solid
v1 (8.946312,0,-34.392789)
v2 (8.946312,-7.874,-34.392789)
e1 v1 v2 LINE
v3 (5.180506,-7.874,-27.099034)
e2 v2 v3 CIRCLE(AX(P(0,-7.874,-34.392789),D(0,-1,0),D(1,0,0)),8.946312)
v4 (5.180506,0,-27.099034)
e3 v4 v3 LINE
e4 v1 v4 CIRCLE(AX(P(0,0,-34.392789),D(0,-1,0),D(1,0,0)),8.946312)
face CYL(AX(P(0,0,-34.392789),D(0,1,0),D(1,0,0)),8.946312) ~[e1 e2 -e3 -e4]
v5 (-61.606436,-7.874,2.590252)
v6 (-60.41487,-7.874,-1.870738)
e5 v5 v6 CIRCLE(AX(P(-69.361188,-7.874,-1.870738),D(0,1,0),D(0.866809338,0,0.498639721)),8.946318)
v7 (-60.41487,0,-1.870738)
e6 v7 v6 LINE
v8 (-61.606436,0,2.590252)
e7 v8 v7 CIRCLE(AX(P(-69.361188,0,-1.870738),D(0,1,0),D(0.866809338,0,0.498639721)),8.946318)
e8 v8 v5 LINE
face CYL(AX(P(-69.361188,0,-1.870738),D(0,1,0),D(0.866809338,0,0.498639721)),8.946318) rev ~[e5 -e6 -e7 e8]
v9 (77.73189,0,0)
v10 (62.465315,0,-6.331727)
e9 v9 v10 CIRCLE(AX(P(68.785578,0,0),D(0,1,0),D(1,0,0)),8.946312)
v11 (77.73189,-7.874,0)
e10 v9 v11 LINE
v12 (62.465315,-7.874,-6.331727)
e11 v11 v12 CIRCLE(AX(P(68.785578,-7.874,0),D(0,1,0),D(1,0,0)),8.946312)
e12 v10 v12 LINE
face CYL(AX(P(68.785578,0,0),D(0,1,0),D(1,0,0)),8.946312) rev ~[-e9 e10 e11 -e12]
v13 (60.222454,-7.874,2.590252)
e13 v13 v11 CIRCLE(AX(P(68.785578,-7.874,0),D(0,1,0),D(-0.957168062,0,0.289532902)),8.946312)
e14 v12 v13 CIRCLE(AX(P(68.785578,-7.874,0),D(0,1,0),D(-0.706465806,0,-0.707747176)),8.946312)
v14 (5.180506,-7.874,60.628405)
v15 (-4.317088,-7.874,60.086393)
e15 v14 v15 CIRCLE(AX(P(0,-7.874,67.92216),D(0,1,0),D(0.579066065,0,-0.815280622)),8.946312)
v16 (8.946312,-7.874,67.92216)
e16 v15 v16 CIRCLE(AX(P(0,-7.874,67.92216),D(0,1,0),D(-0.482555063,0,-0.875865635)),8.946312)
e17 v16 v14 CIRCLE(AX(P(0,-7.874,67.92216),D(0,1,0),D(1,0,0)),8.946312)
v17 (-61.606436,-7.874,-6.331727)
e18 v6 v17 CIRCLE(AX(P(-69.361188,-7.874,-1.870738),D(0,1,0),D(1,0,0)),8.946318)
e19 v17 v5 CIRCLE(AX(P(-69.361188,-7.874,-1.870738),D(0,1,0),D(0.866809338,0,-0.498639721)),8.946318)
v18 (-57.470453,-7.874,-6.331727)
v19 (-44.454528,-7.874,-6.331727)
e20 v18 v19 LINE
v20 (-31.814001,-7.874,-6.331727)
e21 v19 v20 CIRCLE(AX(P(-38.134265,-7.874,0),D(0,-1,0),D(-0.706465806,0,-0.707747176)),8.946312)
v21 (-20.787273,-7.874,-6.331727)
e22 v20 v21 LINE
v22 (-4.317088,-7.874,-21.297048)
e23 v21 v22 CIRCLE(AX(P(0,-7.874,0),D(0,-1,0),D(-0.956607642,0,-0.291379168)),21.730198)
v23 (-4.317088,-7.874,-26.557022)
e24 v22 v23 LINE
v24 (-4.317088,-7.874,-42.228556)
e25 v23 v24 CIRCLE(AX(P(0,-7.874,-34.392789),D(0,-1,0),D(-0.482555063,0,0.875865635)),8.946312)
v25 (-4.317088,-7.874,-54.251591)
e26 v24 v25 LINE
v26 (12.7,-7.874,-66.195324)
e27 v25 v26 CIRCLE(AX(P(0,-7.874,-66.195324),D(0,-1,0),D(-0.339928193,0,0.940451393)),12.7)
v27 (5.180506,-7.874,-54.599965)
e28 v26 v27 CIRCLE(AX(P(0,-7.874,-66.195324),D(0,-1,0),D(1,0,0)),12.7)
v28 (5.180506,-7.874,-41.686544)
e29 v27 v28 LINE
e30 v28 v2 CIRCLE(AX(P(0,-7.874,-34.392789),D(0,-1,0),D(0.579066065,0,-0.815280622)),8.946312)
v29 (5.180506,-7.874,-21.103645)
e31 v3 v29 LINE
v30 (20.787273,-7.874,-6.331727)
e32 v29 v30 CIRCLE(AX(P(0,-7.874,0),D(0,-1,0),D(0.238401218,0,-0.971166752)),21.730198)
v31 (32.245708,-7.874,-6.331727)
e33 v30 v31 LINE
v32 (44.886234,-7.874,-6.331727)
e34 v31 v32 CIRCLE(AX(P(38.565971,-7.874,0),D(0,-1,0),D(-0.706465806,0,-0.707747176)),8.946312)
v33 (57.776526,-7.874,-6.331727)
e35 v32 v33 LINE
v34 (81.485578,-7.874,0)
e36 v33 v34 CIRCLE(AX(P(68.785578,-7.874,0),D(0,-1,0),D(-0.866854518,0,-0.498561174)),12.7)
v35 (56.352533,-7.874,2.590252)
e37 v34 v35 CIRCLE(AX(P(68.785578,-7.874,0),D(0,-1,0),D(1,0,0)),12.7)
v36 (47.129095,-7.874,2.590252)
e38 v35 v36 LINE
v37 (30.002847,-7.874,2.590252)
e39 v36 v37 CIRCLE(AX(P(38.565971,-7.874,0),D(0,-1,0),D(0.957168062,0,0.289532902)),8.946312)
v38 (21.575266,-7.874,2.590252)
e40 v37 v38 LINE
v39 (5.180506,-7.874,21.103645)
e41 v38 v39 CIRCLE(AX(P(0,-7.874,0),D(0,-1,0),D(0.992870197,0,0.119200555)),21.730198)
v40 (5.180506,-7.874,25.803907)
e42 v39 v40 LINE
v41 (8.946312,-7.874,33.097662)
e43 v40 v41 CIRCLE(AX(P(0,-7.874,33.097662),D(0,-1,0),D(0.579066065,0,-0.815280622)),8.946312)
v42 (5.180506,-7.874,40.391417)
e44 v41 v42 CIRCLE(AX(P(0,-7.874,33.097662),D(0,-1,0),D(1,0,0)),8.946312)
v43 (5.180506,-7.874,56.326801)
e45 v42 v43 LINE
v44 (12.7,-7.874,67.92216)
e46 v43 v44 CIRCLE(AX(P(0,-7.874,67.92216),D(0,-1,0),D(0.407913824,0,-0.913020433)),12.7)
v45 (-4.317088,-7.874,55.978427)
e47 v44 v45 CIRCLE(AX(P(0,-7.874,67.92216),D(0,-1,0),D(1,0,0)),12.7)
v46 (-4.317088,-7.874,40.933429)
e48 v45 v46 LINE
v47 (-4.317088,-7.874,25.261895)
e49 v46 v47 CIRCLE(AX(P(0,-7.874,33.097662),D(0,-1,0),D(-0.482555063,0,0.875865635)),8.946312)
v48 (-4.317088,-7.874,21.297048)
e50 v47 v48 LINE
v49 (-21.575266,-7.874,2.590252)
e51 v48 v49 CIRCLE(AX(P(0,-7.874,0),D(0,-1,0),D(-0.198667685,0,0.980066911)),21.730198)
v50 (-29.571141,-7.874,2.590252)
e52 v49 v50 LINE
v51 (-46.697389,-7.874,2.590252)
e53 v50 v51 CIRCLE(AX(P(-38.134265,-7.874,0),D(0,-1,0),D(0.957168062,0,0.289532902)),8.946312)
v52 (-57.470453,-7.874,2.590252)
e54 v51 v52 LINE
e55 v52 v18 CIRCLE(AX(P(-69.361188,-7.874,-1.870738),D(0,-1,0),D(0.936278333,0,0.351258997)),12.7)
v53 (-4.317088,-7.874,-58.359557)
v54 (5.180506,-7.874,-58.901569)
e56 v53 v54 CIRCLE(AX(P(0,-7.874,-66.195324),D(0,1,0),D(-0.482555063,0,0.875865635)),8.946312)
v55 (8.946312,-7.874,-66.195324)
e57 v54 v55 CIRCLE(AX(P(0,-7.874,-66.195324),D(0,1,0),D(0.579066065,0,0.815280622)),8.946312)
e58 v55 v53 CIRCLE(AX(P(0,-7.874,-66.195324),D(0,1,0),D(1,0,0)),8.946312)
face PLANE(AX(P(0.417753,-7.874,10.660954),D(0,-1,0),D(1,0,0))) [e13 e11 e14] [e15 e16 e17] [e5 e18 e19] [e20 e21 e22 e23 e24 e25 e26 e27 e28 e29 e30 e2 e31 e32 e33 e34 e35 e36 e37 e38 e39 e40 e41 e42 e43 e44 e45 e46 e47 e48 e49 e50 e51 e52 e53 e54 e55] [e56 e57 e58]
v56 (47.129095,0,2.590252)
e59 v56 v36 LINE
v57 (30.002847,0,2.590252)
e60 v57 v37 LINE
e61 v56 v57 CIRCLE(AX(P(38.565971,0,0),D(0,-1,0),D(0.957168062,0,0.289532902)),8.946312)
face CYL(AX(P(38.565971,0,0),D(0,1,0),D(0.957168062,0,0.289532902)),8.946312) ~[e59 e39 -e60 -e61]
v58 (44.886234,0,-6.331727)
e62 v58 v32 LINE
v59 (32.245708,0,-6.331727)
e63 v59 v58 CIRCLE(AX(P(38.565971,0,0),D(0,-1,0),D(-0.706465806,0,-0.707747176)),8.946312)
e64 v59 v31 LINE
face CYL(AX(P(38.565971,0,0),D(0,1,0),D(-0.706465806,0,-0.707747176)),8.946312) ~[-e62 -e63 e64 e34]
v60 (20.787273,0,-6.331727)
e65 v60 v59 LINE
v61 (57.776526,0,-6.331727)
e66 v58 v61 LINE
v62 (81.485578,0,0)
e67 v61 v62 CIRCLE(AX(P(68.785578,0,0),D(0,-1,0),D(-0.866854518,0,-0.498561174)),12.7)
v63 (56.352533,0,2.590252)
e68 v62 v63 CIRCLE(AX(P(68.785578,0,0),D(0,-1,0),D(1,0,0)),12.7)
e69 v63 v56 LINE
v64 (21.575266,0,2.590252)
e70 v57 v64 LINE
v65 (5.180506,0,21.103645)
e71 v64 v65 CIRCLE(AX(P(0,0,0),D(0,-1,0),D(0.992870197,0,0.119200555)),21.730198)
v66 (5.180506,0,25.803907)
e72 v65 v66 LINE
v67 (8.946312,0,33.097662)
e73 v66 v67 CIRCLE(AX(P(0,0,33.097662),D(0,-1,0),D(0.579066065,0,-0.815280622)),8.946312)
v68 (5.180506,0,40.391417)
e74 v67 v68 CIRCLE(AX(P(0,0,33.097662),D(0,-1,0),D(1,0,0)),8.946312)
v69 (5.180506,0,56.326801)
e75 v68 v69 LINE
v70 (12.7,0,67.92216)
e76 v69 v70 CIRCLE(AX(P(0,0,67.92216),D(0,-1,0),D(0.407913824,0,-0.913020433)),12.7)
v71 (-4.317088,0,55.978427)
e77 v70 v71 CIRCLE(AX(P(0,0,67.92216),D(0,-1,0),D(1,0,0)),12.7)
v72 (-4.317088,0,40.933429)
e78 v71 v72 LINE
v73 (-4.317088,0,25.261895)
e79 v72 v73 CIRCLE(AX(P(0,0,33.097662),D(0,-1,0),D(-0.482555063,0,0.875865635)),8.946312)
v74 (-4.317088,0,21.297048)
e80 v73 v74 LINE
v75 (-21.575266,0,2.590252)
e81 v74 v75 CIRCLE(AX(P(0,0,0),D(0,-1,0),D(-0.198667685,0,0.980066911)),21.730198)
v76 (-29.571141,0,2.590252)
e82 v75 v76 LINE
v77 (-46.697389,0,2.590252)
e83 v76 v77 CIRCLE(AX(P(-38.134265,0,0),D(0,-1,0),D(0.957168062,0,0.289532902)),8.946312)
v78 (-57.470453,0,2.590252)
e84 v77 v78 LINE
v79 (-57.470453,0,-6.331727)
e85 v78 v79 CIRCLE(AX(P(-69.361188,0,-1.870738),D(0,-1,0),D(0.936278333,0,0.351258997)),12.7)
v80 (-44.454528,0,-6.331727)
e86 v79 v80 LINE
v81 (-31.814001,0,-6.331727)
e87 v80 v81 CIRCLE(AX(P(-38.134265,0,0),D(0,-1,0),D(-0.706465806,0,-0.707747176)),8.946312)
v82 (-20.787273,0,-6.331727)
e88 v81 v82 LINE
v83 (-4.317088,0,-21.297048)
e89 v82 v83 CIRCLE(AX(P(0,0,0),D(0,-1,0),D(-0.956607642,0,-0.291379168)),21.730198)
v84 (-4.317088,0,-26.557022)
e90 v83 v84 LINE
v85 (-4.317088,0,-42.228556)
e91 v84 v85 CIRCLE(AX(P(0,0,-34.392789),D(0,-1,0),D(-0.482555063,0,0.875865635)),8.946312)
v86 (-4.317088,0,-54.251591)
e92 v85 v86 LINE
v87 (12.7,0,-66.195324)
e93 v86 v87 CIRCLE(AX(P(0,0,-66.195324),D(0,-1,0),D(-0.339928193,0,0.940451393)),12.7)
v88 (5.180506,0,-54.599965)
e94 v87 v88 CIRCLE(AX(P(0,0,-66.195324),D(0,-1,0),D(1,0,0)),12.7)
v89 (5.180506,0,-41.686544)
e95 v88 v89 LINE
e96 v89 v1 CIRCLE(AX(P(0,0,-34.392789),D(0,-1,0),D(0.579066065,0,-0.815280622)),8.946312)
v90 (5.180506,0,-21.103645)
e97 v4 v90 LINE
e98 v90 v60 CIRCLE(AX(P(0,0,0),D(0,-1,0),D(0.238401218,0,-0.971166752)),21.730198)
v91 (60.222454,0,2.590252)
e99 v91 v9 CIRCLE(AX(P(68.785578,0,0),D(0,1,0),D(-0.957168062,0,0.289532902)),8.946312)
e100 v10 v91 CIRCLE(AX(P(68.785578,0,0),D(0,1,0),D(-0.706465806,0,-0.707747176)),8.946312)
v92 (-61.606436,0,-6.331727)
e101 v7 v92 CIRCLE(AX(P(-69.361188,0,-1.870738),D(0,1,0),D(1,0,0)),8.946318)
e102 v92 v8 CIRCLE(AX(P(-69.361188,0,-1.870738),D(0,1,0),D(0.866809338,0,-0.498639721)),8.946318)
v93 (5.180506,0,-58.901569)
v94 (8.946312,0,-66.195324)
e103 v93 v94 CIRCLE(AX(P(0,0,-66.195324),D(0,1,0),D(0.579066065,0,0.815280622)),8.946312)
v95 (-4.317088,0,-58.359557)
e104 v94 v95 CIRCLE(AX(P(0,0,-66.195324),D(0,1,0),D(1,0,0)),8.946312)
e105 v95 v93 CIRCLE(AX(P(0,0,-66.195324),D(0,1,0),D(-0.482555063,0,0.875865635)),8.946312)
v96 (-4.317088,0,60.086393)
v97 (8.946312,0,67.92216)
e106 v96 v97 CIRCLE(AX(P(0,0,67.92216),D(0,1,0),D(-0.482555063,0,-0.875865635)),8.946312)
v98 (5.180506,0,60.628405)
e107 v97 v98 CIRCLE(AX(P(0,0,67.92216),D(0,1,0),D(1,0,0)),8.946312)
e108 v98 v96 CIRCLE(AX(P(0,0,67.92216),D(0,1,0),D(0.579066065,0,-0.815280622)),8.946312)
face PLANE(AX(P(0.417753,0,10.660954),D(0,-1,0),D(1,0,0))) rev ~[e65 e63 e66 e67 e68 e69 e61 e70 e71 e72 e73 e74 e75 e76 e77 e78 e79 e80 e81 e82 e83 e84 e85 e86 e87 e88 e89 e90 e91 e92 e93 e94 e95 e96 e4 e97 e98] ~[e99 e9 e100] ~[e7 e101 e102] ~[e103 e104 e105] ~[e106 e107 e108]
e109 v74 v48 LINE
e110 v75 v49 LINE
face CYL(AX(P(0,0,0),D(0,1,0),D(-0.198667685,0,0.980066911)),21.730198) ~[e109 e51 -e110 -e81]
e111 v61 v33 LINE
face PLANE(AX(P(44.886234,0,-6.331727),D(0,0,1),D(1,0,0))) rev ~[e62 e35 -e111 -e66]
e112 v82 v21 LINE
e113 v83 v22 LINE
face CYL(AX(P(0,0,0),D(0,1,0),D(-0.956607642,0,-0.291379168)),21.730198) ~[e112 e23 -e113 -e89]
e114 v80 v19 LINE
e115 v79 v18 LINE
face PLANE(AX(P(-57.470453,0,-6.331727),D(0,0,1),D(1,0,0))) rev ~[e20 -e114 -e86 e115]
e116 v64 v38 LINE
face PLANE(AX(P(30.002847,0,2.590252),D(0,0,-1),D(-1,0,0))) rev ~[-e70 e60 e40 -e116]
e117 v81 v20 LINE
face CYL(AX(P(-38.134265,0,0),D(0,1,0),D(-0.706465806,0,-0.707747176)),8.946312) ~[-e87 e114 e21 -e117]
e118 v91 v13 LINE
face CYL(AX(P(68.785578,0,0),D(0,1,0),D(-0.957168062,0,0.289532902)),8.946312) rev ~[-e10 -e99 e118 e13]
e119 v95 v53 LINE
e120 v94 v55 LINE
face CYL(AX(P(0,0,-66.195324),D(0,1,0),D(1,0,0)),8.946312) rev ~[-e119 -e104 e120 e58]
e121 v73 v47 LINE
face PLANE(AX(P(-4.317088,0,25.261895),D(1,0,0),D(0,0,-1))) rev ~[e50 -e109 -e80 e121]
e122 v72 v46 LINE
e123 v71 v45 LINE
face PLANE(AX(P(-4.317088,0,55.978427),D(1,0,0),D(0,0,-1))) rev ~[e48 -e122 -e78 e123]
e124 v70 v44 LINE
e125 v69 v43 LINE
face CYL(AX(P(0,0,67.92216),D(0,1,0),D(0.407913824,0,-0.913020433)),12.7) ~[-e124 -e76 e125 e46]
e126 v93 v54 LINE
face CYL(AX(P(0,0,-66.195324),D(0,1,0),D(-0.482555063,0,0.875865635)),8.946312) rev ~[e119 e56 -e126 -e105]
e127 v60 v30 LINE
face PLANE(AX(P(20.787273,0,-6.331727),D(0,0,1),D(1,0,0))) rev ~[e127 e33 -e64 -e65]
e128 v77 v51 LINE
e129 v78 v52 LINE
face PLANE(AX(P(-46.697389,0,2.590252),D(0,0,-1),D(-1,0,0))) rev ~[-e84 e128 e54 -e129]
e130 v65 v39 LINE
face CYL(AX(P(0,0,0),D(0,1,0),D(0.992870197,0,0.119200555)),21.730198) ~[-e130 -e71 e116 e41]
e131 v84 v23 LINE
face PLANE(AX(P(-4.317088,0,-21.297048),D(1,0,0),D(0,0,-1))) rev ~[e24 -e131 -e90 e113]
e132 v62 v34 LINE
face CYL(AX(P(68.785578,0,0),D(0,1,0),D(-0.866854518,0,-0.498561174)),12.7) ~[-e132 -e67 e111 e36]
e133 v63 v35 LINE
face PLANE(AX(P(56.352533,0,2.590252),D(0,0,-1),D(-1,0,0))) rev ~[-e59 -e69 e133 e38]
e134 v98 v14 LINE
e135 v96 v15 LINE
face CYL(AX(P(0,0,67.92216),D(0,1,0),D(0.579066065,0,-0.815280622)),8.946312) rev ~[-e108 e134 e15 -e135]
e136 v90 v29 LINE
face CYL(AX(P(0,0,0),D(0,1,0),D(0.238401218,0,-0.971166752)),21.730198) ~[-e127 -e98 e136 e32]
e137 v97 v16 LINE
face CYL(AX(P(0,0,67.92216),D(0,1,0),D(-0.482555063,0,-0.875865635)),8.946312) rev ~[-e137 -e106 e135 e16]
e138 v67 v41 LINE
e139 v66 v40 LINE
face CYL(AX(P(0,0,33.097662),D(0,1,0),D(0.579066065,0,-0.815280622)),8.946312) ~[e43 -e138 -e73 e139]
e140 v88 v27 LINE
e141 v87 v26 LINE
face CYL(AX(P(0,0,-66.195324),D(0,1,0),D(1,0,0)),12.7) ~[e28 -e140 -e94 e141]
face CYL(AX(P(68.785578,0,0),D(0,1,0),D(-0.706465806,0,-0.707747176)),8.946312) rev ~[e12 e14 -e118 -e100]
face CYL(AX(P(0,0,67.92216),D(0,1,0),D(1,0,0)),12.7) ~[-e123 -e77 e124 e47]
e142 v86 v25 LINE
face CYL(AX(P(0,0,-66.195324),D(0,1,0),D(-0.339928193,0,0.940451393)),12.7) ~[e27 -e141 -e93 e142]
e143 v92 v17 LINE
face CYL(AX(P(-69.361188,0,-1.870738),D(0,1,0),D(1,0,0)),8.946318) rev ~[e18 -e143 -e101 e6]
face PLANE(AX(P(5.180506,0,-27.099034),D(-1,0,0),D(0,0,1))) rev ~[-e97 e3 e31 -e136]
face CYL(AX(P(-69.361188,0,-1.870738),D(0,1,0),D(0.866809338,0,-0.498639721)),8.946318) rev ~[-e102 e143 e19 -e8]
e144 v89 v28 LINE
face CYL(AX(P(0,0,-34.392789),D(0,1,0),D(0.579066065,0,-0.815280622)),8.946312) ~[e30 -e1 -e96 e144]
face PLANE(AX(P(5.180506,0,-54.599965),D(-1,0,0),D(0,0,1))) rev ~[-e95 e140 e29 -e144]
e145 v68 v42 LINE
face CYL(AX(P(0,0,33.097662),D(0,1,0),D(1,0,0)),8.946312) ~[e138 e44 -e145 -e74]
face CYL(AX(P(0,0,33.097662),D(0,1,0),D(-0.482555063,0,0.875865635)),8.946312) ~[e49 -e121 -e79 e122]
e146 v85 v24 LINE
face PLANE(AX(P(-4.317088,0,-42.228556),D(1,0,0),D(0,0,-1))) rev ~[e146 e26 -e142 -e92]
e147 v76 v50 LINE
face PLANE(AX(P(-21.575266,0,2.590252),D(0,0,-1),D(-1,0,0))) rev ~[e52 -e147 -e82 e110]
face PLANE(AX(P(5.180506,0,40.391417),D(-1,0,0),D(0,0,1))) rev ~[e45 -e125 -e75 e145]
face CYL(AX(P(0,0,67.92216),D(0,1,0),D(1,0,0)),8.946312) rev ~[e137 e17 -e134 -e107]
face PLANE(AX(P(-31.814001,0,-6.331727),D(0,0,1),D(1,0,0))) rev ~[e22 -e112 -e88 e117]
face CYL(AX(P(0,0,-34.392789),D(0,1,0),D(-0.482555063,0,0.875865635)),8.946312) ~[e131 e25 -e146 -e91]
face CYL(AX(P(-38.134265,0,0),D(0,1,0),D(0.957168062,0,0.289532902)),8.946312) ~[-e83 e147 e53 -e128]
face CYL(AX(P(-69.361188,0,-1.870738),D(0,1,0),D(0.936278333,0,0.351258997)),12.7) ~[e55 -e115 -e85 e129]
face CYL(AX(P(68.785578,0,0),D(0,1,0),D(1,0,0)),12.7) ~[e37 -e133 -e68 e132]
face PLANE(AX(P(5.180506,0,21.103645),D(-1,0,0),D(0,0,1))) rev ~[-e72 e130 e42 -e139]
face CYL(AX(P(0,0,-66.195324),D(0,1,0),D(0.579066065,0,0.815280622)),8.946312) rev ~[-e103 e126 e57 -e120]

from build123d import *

# Parameters (mm, degrees)
F1_DEPTH = 7.874


with BuildPart() as f1:
    # F0 (on Front) → F1 (new body)
    with BuildSketch(Plane.XZ):
        with BuildLine():
            Line((-4.3170880526, 2.5902516209), (-4.3170880526, 0))
            Line((-4.3170880526, 0), (5.18050557, 0))
            Line((5.18050557, 0), (5.18050557, 2.5902516209))
            Line((5.18050557, 2.5902516209), (5.18050557, 21.1036454269))
            ThreePointArc((5.18050557, 21.1036454269), (0.4424065531, 21.7256936531), (-4.3170880526, 21.2970476595))
            Line((-4.3170880526, 21.2970476595), (-4.3170880526, 2.5902516209))
        make_face()
        with BuildLine():
            Line((-4.3170880526, -6.3317269087), (-4.3170880526, 0))
            Line((-4.3170880526, 0), (-4.3170880526, 2.5902516209))
            Line((-4.3170880526, 2.5902516209), (-21.5752655791, 2.5902516209))
            ThreePointArc((-21.5752655791, 2.5902516209), (-21.6459371683, -1.911777281), (-20.7872730925, -6.3317269087))
            Line((-20.7872730925, -6.3317269087), (-4.3170880526, -6.3317269087))
        make_face()
        with BuildLine():
            Line((5.18050557, 0), (-4.3170880526, 0))
            Line((-4.3170880526, 0), (-4.3170880526, -6.3317269087))
            Line((-4.3170880526, -6.3317269087), (-4.3170880526, -21.2970476595))
            ThreePointArc((-4.3170880526, -21.2970476595), (0.4424065531, -21.7256936531), (5.18050557, -21.1036454269))
            Line((5.18050557, -21.1036454269), (5.18050557, -6.3317269087))
            Line((5.18050557, -6.3317269087), (5.18050557, 0))
        make_face()
        with BuildLine():
            Line((5.18050557, 2.5902516209), (5.18050557, 0))
            Line((5.18050557, 0), (5.18050557, -6.3317269087))
            Line((5.18050557, -6.3317269087), (20.7872730925, -6.3317269087))
            ThreePointArc((20.7872730925, -6.3317269087), (21.4931738046, -3.2007761674), (21.7301976122, 0))
            ThreePointArc((21.7301976122, 0), (21.6914300224, 1.297440499), (21.5752655791, 2.5902516209))
            Line((21.5752655791, 2.5902516209), (5.18050557, 2.5902516209))
        make_face()
        with BuildLine():
            Line((-21.5752655791, 2.5902516209), (-4.3170880526, 2.5902516209))
            Line((-4.3170880526, 2.5902516209), (-4.3170880526, 21.2970476595))
            ThreePointArc((-4.3170880526, 21.2970476595), (-15.9715230537, 14.7347188508), (-21.5752655791, 2.5902516209))
        make_face()
        with BuildLine():
            Line((-4.3170880526, -21.2970476595), (-4.3170880526, -6.3317269087))
            Line((-4.3170880526, -6.3317269087), (-20.7872730925, -6.3317269087))
            ThreePointArc((-20.7872730925, -6.3317269087), (-14.6132625864, -16.0827250442), (-4.3170880526, -21.2970476595))
        make_face()
        with BuildLine():
            Line((5.18050557, 21.1036454269), (5.18050557, 2.5902516209))
            Line((5.18050557, 2.5902516209), (21.5752655791, 2.5902516209))
            ThreePointArc((21.5752655791, 2.5902516209), (16.2681978105, 14.4064995147), (5.18050557, 21.1036454269))
        make_face()
        with BuildLine():
            Line((20.7872730925, -6.3317269087), (5.18050557, -6.3317269087))
            Line((5.18050557, -6.3317269087), (5.18050557, -21.1036454269))
            ThreePointArc((5.18050557, -21.1036454269), (14.9376630148, -15.7818792266), (20.7872730925, -6.3317269087))
        make_face()
        with BuildLine():
            Line((-4.3170880526, 25.2618949621), (-4.3170880526, 21.2970476595))
            ThreePointArc((-4.3170880526, 21.2970476595), (0.4424065531, 21.7256936531), (5.18050557, 21.1036454269))
            Line((5.18050557, 21.1036454269), (5.18050557, 25.8039073839))
            ThreePointArc((5.18050557, 25.8039073839), (0.5097222957, 24.1658829253), (-4.3170880526, 25.2618949621))
        make_face()
        with BuildLine():
            ThreePointArc((-20.7872730925, -6.3317269087), (-21.6459371683, -1.911777281), (-21.5752655791, 2.5902516209))
            Line((-21.5752655791, 2.5902516209), (-29.5711408342, 2.5902516209))
            ThreePointArc((-29.5711408342, 2.5902516209), (-29.2842683913, 1.3092207994), (-29.1879529597, 0))
            ThreePointArc((-29.1879529597, 0), (-29.870502249, -3.4273494116), (-31.814001381, -6.3317269087))
            Line((-31.814001381, -6.3317269087), (-20.7872730925, -6.3317269087))
        make_face()
        with BuildLine():
            ThreePointArc((5.18050557, -21.1036454269), (0.4424065531, -21.7256936531), (-4.3170880526, -21.2970476595))
            Line((-4.3170880526, -21.2970476595), (-4.3170880526, -26.5570219367))
            ThreePointArc((-4.3170880526, -26.5570219367), (0.5097222957, -25.4610098999), (5.18050557, -27.0990343585))
            Line((5.18050557, -27.0990343585), (5.18050557, -21.1036454269))
        make_face()
        with BuildLine():
            Line((30.0028470318, 2.5902516209), (21.5752655791, 2.5902516209))
            ThreePointArc((21.5752655791, 2.5902516209), (21.6914300224, 1.297440499), (21.7301976122, 0))
            ThreePointArc((21.7301976122, 0), (21.4931738046, -3.2007761674), (20.7872730925, -6.3317269087))
            Line((20.7872730925, -6.3317269087), (32.2457075785, -6.3317269087))
            ThreePointArc((32.2457075785, -6.3317269087), (29.8896105664, -2.1811155839), (30.0028470318, 2.5902516209))
        make_face()
        with BuildLine():
            ThreePointArc((-4.3170880526, 40.9334291012), (-8.9463118, 33.0976620317), (-4.3170880526, 25.2618949621))
            Line((-4.3170880526, 25.2618949621), (-4.3170880526, 40.9334291012))
        make_face()
        with BuildLine():
            Line((-4.3170880526, 40.9334291012), (-4.3170880526, 25.2618949621))
            ThreePointArc((-4.3170880526, 25.2618949621), (0.5097222957, 24.1658829253), (5.18050557, 25.8039073839))
            Line((5.18050557, 25.8039073839), (5.18050557, 40.3914166794))
            ThreePointArc((5.18050557, 40.3914166794), (0.5097222957, 42.029441138), (-4.3170880526, 40.9334291012))
        make_face()
        with BuildLine():
            ThreePointArc((-29.1879529597, 0), (-29.2842683913, 1.3092207994), (-29.5711408342, 2.5902516209))
            Line((-29.5711408342, 2.5902516209), (-46.6973886852, 2.5902516209))
            ThreePointArc((-46.6973886852, 2.5902516209), (-46.8106251506, -2.1811155839), (-44.4545281385, -6.3317269087))
            Line((-44.4545281385, -6.3317269087), (-31.814001381, -6.3317269087))
            ThreePointArc((-31.814001381, -6.3317269087), (-29.870502249, -3.4273494116), (-29.1879529597, 0))
        make_face()
        with BuildLine():
            Line((-46.6973886852, 2.5902516209), (-29.5711408342, 2.5902516209))
            ThreePointArc((-29.5711408342, 2.5902516209), (-38.1342647597, 8.9463118), (-46.6973886852, 2.5902516209))
        make_face()
        with BuildLine():
            ThreePointArc((5.18050557, -27.0990343585), (0.5097222957, -25.4610098999), (-4.3170880526, -26.5570219367))
            Line((-4.3170880526, -26.5570219367), (-4.3170880526, -42.2285560758))
            ThreePointArc((-4.3170880526, -42.2285560758), (0.5097222957, -43.3245681126), (5.18050557, -41.686543654))
            Line((5.18050557, -41.686543654), (5.18050557, -27.0990343585))
        make_face()
        with BuildLine():
            Line((-4.3170880526, -42.2285560758), (-4.3170880526, -26.5570219367))
            ThreePointArc((-4.3170880526, -26.5570219367), (-8.9463118, -34.3927890062), (-4.3170880526, -42.2285560758))
        make_face()
        with BuildLine():
            ThreePointArc((-44.4545281385, -6.3317269087), (-38.1342647597, -8.9463118), (-31.814001381, -6.3317269087))
            Line((-31.814001381, -6.3317269087), (-44.4545281385, -6.3317269087))
        make_face()
        with BuildLine():
            Line((5.18050557, 40.3914166794), (5.18050557, 25.8039073839))
            ThreePointArc((5.18050557, 25.8039073839), (7.9493054078, 28.9933912857), (8.9463118, 33.0976620317))
            ThreePointArc((8.9463118, 33.0976620317), (7.9493054078, 37.2019327776), (5.18050557, 40.3914166794))
        make_face()
        with BuildLine():
            ThreePointArc((47.1290948828, 2.5902516209), (38.5659709573, 8.9463118), (30.0028470318, 2.5902516209))
            Line((30.0028470318, 2.5902516209), (47.1290948828, 2.5902516209))
        make_face()
        with BuildLine():
            Line((47.1290948828, 2.5902516209), (30.0028470318, 2.5902516209))
            ThreePointArc((30.0028470318, 2.5902516209), (29.8896105664, -2.1811155839), (32.2457075785, -6.3317269087))
            Line((32.2457075785, -6.3317269087), (44.886234336, -6.3317269087))
            ThreePointArc((44.886234336, -6.3317269087), (46.829733468, -3.4273494116), (47.5122827573, 0))
            ThreePointArc((47.5122827573, 0), (47.4159673257, 1.3092207994), (47.1290948828, 2.5902516209))
        make_face()
        with BuildLine():
            ThreePointArc((8.9463118, -34.3927890062), (7.9493054078, -30.2885182603), (5.18050557, -27.0990343585))
            Line((5.18050557, -27.0990343585), (5.18050557, -41.686543654))
            ThreePointArc((5.18050557, -41.686543654), (7.9493054078, -38.4970597522), (8.9463118, -34.3927890062))
        make_face()
        with BuildLine():
            Line((44.886234336, -6.3317269087), (32.2457075785, -6.3317269087))
            ThreePointArc((32.2457075785, -6.3317269087), (38.5659709573, -8.9463118), (44.886234336, -6.3317269087))
        make_face()
        with BuildLine():
            Line((-4.3170880526, 55.9784273321), (-4.3170880526, 40.9334291012))
            ThreePointArc((-4.3170880526, 40.9334291012), (0.5097222957, 42.029441138), (5.18050557, 40.3914166794))
            Line((5.18050557, 40.3914166794), (5.18050557, 56.3268005249))
            ThreePointArc((5.18050557, 56.3268005249), (0.4655248895, 55.2306949218), (-4.3170880526, 55.9784273321))
        make_face()
        with BuildLine():
            ThreePointArc((-44.4545281385, -6.3317269087), (-46.8106251506, -2.1811155839), (-46.6973886852, 2.5902516209))
            Line((-46.6973886852, 2.5902516209), (-57.4704526884, 2.5902516209))
            ThreePointArc((-57.4704526884, 2.5902516209), (-56.8651414964, 0.3961619644), (-56.6611875176, -1.8707376439))
            ThreePointArc((-56.6611875176, -1.8707376439), (-56.8651414964, -4.1376372522), (-57.4704526884, -6.3317269087))
            Line((-57.4704526884, -6.3317269087), (-44.4545281385, -6.3317269087))
        make_face()
        with BuildLine():
            ThreePointArc((5.18050557, -41.686543654), (0.5097222957, -43.3245681126), (-4.3170880526, -42.2285560758))
            Line((-4.3170880526, -42.2285560758), (-4.3170880526, -54.2515913659))
            ThreePointArc((-4.3170880526, -54.2515913659), (0.4655248895, -53.5038589557), (5.18050557, -54.5999645588))
            Line((5.18050557, -54.5999645588), (5.18050557, -41.686543654))
        make_face()
        with BuildLine():
            Line((56.3525334722, 2.5902516209), (47.1290948828, 2.5902516209))
            ThreePointArc((47.1290948828, 2.5902516209), (47.4159673257, 1.3092207994), (47.5122827573, 0))
            ThreePointArc((47.5122827573, 0), (46.829733468, -3.4273494116), (44.886234336, -6.3317269087))
            Line((44.886234336, -6.3317269087), (57.7765256303, -6.3317269087))
            ThreePointArc((57.7765256303, -6.3317269087), (56.2443100442, -2.0016487576), (56.3525334722, 2.5902516209))
        make_face()
        with BuildLine():
            ThreePointArc((12.7, 67.9221600294), (-7.2959914245, 78.3172795157), (-4.3170880526, 55.9784273321))
            Line((-4.3170880526, 55.9784273321), (-4.3170880526, 60.0863929598))
            ThreePointArc((-4.3170880526, 60.0863929598), (-4.5505207963, 75.6247086534), (8.9463118, 67.9221600294))
            ThreePointArc((8.9463118, 67.9221600294), (7.9493054078, 63.8178892835), (5.18050557, 60.6284053816))
            Line((5.18050557, 60.6284053816), (5.18050557, 56.3268005249))
            ThreePointArc((5.18050557, 56.3268005249), (10.6555717993, 61.0121101287), (12.7, 67.9221600294))
        make_face()
        with BuildLine():
            Line((-4.3170880526, 60.0863929598), (-4.3170880526, 55.9784273321))
            ThreePointArc((-4.3170880526, 55.9784273321), (0.4655248895, 55.2306949218), (5.18050557, 56.3268005249))
            Line((5.18050557, 56.3268005249), (5.18050557, 60.6284053816))
            ThreePointArc((5.18050557, 60.6284053816), (0.5097222957, 58.9903809231), (-4.3170880526, 60.0863929598))
        make_face()
        with BuildLine():
            ThreePointArc((-56.6611875176, -1.8707376439), (-56.8651414964, 0.3961619644), (-57.4704526884, 2.5902516209))
            Line((-57.4704526884, 2.5902516209), (-61.6064359556, 2.5902516209))
            ThreePointArc((-61.6064359556, 2.5902516209), (-60.7178933915, 0.4379554188), (-60.4148700066, -1.8707376439))
            ThreePointArc((-60.4148700066, -1.8707376439), (-60.7178933915, -4.1794307066), (-61.6064359556, -6.3317269087))
            Line((-61.6064359556, -6.3317269087), (-57.4704526884, -6.3317269087))
            ThreePointArc((-57.4704526884, -6.3317269087), (-56.8651414964, -4.1376372522), (-56.6611875176, -1.8707376439))
        make_face()
        with BuildLine():
            Line((-61.6064359556, 2.5902516209), (-57.4704526884, 2.5902516209))
            ThreePointArc((-57.4704526884, 2.5902516209), (-82.0611875176, -1.8707376439), (-57.4704526884, -6.3317269087))
            Line((-57.4704526884, -6.3317269087), (-61.6064359556, -6.3317269087))
            ThreePointArc((-61.6064359556, -6.3317269087), (-78.3075050287, -1.8707376439), (-61.6064359556, 2.5902516209))
        make_face()
        with BuildLine():
            ThreePointArc((5.18050557, -54.5999645588), (0.4655248895, -53.5038589557), (-4.3170880526, -54.2515913659))
            Line((-4.3170880526, -54.2515913659), (-4.3170880526, -58.3595569937))
            ThreePointArc((-4.3170880526, -58.3595569937), (0.5097222957, -57.263544957), (5.18050557, -58.9015694155))
            Line((5.18050557, -58.9015694155), (5.18050557, -54.5999645588))
        make_face()
        with BuildLine():
            Line((-4.3170880526, -58.3595569937), (-4.3170880526, -54.2515913659))
            ThreePointArc((-4.3170880526, -54.2515913659), (-7.2959914245, -76.5904435496), (12.7, -66.1953240633))
            ThreePointArc((12.7, -66.1953240633), (10.6555717993, -59.2852741626), (5.18050557, -54.5999645588))
            Line((5.18050557, -54.5999645588), (5.18050557, -58.9015694155))
            ThreePointArc((5.18050557, -58.9015694155), (7.9493054078, -62.0910533174), (8.9463118, -66.1953240633))
            ThreePointArc((8.9463118, -66.1953240633), (-4.5505207963, -73.8978726873), (-4.3170880526, -58.3595569937))
        make_face()
        with BuildLine():
            ThreePointArc((81.4855780125, 0), (70.0875638685, 12.6330848501), (56.3525334722, 2.5902516209))
            Line((56.3525334722, 2.5902516209), (60.222454087, 2.5902516209))
            ThreePointArc((60.222454087, 2.5902516209), (70.0947988119, 8.8499963684), (77.7318898125, 0))
            ThreePointArc((77.7318898125, 0), (72.2129274241, -8.2637625107), (62.4653146337, -6.3317269087))
            Line((62.4653146337, -6.3317269087), (57.7765256303, -6.3317269087))
            ThreePointArc((57.7765256303, -6.3317269087), (72.0623931389, -12.2699829921), (81.4855780125, 0))
        make_face()
        with BuildLine():
            Line((60.222454087, 2.5902516209), (56.3525334722, 2.5902516209))
            ThreePointArc((56.3525334722, 2.5902516209), (56.2443100442, -2.0016487576), (57.7765256303, -6.3317269087))
            Line((57.7765256303, -6.3317269087), (62.4653146337, -6.3317269087))
            ThreePointArc((62.4653146337, -6.3317269087), (60.1092176216, -2.1811155839), (60.222454087, 2.5902516209))
        make_face()
    extrude(amount=F1_DEPTH)


solid = f1.part
